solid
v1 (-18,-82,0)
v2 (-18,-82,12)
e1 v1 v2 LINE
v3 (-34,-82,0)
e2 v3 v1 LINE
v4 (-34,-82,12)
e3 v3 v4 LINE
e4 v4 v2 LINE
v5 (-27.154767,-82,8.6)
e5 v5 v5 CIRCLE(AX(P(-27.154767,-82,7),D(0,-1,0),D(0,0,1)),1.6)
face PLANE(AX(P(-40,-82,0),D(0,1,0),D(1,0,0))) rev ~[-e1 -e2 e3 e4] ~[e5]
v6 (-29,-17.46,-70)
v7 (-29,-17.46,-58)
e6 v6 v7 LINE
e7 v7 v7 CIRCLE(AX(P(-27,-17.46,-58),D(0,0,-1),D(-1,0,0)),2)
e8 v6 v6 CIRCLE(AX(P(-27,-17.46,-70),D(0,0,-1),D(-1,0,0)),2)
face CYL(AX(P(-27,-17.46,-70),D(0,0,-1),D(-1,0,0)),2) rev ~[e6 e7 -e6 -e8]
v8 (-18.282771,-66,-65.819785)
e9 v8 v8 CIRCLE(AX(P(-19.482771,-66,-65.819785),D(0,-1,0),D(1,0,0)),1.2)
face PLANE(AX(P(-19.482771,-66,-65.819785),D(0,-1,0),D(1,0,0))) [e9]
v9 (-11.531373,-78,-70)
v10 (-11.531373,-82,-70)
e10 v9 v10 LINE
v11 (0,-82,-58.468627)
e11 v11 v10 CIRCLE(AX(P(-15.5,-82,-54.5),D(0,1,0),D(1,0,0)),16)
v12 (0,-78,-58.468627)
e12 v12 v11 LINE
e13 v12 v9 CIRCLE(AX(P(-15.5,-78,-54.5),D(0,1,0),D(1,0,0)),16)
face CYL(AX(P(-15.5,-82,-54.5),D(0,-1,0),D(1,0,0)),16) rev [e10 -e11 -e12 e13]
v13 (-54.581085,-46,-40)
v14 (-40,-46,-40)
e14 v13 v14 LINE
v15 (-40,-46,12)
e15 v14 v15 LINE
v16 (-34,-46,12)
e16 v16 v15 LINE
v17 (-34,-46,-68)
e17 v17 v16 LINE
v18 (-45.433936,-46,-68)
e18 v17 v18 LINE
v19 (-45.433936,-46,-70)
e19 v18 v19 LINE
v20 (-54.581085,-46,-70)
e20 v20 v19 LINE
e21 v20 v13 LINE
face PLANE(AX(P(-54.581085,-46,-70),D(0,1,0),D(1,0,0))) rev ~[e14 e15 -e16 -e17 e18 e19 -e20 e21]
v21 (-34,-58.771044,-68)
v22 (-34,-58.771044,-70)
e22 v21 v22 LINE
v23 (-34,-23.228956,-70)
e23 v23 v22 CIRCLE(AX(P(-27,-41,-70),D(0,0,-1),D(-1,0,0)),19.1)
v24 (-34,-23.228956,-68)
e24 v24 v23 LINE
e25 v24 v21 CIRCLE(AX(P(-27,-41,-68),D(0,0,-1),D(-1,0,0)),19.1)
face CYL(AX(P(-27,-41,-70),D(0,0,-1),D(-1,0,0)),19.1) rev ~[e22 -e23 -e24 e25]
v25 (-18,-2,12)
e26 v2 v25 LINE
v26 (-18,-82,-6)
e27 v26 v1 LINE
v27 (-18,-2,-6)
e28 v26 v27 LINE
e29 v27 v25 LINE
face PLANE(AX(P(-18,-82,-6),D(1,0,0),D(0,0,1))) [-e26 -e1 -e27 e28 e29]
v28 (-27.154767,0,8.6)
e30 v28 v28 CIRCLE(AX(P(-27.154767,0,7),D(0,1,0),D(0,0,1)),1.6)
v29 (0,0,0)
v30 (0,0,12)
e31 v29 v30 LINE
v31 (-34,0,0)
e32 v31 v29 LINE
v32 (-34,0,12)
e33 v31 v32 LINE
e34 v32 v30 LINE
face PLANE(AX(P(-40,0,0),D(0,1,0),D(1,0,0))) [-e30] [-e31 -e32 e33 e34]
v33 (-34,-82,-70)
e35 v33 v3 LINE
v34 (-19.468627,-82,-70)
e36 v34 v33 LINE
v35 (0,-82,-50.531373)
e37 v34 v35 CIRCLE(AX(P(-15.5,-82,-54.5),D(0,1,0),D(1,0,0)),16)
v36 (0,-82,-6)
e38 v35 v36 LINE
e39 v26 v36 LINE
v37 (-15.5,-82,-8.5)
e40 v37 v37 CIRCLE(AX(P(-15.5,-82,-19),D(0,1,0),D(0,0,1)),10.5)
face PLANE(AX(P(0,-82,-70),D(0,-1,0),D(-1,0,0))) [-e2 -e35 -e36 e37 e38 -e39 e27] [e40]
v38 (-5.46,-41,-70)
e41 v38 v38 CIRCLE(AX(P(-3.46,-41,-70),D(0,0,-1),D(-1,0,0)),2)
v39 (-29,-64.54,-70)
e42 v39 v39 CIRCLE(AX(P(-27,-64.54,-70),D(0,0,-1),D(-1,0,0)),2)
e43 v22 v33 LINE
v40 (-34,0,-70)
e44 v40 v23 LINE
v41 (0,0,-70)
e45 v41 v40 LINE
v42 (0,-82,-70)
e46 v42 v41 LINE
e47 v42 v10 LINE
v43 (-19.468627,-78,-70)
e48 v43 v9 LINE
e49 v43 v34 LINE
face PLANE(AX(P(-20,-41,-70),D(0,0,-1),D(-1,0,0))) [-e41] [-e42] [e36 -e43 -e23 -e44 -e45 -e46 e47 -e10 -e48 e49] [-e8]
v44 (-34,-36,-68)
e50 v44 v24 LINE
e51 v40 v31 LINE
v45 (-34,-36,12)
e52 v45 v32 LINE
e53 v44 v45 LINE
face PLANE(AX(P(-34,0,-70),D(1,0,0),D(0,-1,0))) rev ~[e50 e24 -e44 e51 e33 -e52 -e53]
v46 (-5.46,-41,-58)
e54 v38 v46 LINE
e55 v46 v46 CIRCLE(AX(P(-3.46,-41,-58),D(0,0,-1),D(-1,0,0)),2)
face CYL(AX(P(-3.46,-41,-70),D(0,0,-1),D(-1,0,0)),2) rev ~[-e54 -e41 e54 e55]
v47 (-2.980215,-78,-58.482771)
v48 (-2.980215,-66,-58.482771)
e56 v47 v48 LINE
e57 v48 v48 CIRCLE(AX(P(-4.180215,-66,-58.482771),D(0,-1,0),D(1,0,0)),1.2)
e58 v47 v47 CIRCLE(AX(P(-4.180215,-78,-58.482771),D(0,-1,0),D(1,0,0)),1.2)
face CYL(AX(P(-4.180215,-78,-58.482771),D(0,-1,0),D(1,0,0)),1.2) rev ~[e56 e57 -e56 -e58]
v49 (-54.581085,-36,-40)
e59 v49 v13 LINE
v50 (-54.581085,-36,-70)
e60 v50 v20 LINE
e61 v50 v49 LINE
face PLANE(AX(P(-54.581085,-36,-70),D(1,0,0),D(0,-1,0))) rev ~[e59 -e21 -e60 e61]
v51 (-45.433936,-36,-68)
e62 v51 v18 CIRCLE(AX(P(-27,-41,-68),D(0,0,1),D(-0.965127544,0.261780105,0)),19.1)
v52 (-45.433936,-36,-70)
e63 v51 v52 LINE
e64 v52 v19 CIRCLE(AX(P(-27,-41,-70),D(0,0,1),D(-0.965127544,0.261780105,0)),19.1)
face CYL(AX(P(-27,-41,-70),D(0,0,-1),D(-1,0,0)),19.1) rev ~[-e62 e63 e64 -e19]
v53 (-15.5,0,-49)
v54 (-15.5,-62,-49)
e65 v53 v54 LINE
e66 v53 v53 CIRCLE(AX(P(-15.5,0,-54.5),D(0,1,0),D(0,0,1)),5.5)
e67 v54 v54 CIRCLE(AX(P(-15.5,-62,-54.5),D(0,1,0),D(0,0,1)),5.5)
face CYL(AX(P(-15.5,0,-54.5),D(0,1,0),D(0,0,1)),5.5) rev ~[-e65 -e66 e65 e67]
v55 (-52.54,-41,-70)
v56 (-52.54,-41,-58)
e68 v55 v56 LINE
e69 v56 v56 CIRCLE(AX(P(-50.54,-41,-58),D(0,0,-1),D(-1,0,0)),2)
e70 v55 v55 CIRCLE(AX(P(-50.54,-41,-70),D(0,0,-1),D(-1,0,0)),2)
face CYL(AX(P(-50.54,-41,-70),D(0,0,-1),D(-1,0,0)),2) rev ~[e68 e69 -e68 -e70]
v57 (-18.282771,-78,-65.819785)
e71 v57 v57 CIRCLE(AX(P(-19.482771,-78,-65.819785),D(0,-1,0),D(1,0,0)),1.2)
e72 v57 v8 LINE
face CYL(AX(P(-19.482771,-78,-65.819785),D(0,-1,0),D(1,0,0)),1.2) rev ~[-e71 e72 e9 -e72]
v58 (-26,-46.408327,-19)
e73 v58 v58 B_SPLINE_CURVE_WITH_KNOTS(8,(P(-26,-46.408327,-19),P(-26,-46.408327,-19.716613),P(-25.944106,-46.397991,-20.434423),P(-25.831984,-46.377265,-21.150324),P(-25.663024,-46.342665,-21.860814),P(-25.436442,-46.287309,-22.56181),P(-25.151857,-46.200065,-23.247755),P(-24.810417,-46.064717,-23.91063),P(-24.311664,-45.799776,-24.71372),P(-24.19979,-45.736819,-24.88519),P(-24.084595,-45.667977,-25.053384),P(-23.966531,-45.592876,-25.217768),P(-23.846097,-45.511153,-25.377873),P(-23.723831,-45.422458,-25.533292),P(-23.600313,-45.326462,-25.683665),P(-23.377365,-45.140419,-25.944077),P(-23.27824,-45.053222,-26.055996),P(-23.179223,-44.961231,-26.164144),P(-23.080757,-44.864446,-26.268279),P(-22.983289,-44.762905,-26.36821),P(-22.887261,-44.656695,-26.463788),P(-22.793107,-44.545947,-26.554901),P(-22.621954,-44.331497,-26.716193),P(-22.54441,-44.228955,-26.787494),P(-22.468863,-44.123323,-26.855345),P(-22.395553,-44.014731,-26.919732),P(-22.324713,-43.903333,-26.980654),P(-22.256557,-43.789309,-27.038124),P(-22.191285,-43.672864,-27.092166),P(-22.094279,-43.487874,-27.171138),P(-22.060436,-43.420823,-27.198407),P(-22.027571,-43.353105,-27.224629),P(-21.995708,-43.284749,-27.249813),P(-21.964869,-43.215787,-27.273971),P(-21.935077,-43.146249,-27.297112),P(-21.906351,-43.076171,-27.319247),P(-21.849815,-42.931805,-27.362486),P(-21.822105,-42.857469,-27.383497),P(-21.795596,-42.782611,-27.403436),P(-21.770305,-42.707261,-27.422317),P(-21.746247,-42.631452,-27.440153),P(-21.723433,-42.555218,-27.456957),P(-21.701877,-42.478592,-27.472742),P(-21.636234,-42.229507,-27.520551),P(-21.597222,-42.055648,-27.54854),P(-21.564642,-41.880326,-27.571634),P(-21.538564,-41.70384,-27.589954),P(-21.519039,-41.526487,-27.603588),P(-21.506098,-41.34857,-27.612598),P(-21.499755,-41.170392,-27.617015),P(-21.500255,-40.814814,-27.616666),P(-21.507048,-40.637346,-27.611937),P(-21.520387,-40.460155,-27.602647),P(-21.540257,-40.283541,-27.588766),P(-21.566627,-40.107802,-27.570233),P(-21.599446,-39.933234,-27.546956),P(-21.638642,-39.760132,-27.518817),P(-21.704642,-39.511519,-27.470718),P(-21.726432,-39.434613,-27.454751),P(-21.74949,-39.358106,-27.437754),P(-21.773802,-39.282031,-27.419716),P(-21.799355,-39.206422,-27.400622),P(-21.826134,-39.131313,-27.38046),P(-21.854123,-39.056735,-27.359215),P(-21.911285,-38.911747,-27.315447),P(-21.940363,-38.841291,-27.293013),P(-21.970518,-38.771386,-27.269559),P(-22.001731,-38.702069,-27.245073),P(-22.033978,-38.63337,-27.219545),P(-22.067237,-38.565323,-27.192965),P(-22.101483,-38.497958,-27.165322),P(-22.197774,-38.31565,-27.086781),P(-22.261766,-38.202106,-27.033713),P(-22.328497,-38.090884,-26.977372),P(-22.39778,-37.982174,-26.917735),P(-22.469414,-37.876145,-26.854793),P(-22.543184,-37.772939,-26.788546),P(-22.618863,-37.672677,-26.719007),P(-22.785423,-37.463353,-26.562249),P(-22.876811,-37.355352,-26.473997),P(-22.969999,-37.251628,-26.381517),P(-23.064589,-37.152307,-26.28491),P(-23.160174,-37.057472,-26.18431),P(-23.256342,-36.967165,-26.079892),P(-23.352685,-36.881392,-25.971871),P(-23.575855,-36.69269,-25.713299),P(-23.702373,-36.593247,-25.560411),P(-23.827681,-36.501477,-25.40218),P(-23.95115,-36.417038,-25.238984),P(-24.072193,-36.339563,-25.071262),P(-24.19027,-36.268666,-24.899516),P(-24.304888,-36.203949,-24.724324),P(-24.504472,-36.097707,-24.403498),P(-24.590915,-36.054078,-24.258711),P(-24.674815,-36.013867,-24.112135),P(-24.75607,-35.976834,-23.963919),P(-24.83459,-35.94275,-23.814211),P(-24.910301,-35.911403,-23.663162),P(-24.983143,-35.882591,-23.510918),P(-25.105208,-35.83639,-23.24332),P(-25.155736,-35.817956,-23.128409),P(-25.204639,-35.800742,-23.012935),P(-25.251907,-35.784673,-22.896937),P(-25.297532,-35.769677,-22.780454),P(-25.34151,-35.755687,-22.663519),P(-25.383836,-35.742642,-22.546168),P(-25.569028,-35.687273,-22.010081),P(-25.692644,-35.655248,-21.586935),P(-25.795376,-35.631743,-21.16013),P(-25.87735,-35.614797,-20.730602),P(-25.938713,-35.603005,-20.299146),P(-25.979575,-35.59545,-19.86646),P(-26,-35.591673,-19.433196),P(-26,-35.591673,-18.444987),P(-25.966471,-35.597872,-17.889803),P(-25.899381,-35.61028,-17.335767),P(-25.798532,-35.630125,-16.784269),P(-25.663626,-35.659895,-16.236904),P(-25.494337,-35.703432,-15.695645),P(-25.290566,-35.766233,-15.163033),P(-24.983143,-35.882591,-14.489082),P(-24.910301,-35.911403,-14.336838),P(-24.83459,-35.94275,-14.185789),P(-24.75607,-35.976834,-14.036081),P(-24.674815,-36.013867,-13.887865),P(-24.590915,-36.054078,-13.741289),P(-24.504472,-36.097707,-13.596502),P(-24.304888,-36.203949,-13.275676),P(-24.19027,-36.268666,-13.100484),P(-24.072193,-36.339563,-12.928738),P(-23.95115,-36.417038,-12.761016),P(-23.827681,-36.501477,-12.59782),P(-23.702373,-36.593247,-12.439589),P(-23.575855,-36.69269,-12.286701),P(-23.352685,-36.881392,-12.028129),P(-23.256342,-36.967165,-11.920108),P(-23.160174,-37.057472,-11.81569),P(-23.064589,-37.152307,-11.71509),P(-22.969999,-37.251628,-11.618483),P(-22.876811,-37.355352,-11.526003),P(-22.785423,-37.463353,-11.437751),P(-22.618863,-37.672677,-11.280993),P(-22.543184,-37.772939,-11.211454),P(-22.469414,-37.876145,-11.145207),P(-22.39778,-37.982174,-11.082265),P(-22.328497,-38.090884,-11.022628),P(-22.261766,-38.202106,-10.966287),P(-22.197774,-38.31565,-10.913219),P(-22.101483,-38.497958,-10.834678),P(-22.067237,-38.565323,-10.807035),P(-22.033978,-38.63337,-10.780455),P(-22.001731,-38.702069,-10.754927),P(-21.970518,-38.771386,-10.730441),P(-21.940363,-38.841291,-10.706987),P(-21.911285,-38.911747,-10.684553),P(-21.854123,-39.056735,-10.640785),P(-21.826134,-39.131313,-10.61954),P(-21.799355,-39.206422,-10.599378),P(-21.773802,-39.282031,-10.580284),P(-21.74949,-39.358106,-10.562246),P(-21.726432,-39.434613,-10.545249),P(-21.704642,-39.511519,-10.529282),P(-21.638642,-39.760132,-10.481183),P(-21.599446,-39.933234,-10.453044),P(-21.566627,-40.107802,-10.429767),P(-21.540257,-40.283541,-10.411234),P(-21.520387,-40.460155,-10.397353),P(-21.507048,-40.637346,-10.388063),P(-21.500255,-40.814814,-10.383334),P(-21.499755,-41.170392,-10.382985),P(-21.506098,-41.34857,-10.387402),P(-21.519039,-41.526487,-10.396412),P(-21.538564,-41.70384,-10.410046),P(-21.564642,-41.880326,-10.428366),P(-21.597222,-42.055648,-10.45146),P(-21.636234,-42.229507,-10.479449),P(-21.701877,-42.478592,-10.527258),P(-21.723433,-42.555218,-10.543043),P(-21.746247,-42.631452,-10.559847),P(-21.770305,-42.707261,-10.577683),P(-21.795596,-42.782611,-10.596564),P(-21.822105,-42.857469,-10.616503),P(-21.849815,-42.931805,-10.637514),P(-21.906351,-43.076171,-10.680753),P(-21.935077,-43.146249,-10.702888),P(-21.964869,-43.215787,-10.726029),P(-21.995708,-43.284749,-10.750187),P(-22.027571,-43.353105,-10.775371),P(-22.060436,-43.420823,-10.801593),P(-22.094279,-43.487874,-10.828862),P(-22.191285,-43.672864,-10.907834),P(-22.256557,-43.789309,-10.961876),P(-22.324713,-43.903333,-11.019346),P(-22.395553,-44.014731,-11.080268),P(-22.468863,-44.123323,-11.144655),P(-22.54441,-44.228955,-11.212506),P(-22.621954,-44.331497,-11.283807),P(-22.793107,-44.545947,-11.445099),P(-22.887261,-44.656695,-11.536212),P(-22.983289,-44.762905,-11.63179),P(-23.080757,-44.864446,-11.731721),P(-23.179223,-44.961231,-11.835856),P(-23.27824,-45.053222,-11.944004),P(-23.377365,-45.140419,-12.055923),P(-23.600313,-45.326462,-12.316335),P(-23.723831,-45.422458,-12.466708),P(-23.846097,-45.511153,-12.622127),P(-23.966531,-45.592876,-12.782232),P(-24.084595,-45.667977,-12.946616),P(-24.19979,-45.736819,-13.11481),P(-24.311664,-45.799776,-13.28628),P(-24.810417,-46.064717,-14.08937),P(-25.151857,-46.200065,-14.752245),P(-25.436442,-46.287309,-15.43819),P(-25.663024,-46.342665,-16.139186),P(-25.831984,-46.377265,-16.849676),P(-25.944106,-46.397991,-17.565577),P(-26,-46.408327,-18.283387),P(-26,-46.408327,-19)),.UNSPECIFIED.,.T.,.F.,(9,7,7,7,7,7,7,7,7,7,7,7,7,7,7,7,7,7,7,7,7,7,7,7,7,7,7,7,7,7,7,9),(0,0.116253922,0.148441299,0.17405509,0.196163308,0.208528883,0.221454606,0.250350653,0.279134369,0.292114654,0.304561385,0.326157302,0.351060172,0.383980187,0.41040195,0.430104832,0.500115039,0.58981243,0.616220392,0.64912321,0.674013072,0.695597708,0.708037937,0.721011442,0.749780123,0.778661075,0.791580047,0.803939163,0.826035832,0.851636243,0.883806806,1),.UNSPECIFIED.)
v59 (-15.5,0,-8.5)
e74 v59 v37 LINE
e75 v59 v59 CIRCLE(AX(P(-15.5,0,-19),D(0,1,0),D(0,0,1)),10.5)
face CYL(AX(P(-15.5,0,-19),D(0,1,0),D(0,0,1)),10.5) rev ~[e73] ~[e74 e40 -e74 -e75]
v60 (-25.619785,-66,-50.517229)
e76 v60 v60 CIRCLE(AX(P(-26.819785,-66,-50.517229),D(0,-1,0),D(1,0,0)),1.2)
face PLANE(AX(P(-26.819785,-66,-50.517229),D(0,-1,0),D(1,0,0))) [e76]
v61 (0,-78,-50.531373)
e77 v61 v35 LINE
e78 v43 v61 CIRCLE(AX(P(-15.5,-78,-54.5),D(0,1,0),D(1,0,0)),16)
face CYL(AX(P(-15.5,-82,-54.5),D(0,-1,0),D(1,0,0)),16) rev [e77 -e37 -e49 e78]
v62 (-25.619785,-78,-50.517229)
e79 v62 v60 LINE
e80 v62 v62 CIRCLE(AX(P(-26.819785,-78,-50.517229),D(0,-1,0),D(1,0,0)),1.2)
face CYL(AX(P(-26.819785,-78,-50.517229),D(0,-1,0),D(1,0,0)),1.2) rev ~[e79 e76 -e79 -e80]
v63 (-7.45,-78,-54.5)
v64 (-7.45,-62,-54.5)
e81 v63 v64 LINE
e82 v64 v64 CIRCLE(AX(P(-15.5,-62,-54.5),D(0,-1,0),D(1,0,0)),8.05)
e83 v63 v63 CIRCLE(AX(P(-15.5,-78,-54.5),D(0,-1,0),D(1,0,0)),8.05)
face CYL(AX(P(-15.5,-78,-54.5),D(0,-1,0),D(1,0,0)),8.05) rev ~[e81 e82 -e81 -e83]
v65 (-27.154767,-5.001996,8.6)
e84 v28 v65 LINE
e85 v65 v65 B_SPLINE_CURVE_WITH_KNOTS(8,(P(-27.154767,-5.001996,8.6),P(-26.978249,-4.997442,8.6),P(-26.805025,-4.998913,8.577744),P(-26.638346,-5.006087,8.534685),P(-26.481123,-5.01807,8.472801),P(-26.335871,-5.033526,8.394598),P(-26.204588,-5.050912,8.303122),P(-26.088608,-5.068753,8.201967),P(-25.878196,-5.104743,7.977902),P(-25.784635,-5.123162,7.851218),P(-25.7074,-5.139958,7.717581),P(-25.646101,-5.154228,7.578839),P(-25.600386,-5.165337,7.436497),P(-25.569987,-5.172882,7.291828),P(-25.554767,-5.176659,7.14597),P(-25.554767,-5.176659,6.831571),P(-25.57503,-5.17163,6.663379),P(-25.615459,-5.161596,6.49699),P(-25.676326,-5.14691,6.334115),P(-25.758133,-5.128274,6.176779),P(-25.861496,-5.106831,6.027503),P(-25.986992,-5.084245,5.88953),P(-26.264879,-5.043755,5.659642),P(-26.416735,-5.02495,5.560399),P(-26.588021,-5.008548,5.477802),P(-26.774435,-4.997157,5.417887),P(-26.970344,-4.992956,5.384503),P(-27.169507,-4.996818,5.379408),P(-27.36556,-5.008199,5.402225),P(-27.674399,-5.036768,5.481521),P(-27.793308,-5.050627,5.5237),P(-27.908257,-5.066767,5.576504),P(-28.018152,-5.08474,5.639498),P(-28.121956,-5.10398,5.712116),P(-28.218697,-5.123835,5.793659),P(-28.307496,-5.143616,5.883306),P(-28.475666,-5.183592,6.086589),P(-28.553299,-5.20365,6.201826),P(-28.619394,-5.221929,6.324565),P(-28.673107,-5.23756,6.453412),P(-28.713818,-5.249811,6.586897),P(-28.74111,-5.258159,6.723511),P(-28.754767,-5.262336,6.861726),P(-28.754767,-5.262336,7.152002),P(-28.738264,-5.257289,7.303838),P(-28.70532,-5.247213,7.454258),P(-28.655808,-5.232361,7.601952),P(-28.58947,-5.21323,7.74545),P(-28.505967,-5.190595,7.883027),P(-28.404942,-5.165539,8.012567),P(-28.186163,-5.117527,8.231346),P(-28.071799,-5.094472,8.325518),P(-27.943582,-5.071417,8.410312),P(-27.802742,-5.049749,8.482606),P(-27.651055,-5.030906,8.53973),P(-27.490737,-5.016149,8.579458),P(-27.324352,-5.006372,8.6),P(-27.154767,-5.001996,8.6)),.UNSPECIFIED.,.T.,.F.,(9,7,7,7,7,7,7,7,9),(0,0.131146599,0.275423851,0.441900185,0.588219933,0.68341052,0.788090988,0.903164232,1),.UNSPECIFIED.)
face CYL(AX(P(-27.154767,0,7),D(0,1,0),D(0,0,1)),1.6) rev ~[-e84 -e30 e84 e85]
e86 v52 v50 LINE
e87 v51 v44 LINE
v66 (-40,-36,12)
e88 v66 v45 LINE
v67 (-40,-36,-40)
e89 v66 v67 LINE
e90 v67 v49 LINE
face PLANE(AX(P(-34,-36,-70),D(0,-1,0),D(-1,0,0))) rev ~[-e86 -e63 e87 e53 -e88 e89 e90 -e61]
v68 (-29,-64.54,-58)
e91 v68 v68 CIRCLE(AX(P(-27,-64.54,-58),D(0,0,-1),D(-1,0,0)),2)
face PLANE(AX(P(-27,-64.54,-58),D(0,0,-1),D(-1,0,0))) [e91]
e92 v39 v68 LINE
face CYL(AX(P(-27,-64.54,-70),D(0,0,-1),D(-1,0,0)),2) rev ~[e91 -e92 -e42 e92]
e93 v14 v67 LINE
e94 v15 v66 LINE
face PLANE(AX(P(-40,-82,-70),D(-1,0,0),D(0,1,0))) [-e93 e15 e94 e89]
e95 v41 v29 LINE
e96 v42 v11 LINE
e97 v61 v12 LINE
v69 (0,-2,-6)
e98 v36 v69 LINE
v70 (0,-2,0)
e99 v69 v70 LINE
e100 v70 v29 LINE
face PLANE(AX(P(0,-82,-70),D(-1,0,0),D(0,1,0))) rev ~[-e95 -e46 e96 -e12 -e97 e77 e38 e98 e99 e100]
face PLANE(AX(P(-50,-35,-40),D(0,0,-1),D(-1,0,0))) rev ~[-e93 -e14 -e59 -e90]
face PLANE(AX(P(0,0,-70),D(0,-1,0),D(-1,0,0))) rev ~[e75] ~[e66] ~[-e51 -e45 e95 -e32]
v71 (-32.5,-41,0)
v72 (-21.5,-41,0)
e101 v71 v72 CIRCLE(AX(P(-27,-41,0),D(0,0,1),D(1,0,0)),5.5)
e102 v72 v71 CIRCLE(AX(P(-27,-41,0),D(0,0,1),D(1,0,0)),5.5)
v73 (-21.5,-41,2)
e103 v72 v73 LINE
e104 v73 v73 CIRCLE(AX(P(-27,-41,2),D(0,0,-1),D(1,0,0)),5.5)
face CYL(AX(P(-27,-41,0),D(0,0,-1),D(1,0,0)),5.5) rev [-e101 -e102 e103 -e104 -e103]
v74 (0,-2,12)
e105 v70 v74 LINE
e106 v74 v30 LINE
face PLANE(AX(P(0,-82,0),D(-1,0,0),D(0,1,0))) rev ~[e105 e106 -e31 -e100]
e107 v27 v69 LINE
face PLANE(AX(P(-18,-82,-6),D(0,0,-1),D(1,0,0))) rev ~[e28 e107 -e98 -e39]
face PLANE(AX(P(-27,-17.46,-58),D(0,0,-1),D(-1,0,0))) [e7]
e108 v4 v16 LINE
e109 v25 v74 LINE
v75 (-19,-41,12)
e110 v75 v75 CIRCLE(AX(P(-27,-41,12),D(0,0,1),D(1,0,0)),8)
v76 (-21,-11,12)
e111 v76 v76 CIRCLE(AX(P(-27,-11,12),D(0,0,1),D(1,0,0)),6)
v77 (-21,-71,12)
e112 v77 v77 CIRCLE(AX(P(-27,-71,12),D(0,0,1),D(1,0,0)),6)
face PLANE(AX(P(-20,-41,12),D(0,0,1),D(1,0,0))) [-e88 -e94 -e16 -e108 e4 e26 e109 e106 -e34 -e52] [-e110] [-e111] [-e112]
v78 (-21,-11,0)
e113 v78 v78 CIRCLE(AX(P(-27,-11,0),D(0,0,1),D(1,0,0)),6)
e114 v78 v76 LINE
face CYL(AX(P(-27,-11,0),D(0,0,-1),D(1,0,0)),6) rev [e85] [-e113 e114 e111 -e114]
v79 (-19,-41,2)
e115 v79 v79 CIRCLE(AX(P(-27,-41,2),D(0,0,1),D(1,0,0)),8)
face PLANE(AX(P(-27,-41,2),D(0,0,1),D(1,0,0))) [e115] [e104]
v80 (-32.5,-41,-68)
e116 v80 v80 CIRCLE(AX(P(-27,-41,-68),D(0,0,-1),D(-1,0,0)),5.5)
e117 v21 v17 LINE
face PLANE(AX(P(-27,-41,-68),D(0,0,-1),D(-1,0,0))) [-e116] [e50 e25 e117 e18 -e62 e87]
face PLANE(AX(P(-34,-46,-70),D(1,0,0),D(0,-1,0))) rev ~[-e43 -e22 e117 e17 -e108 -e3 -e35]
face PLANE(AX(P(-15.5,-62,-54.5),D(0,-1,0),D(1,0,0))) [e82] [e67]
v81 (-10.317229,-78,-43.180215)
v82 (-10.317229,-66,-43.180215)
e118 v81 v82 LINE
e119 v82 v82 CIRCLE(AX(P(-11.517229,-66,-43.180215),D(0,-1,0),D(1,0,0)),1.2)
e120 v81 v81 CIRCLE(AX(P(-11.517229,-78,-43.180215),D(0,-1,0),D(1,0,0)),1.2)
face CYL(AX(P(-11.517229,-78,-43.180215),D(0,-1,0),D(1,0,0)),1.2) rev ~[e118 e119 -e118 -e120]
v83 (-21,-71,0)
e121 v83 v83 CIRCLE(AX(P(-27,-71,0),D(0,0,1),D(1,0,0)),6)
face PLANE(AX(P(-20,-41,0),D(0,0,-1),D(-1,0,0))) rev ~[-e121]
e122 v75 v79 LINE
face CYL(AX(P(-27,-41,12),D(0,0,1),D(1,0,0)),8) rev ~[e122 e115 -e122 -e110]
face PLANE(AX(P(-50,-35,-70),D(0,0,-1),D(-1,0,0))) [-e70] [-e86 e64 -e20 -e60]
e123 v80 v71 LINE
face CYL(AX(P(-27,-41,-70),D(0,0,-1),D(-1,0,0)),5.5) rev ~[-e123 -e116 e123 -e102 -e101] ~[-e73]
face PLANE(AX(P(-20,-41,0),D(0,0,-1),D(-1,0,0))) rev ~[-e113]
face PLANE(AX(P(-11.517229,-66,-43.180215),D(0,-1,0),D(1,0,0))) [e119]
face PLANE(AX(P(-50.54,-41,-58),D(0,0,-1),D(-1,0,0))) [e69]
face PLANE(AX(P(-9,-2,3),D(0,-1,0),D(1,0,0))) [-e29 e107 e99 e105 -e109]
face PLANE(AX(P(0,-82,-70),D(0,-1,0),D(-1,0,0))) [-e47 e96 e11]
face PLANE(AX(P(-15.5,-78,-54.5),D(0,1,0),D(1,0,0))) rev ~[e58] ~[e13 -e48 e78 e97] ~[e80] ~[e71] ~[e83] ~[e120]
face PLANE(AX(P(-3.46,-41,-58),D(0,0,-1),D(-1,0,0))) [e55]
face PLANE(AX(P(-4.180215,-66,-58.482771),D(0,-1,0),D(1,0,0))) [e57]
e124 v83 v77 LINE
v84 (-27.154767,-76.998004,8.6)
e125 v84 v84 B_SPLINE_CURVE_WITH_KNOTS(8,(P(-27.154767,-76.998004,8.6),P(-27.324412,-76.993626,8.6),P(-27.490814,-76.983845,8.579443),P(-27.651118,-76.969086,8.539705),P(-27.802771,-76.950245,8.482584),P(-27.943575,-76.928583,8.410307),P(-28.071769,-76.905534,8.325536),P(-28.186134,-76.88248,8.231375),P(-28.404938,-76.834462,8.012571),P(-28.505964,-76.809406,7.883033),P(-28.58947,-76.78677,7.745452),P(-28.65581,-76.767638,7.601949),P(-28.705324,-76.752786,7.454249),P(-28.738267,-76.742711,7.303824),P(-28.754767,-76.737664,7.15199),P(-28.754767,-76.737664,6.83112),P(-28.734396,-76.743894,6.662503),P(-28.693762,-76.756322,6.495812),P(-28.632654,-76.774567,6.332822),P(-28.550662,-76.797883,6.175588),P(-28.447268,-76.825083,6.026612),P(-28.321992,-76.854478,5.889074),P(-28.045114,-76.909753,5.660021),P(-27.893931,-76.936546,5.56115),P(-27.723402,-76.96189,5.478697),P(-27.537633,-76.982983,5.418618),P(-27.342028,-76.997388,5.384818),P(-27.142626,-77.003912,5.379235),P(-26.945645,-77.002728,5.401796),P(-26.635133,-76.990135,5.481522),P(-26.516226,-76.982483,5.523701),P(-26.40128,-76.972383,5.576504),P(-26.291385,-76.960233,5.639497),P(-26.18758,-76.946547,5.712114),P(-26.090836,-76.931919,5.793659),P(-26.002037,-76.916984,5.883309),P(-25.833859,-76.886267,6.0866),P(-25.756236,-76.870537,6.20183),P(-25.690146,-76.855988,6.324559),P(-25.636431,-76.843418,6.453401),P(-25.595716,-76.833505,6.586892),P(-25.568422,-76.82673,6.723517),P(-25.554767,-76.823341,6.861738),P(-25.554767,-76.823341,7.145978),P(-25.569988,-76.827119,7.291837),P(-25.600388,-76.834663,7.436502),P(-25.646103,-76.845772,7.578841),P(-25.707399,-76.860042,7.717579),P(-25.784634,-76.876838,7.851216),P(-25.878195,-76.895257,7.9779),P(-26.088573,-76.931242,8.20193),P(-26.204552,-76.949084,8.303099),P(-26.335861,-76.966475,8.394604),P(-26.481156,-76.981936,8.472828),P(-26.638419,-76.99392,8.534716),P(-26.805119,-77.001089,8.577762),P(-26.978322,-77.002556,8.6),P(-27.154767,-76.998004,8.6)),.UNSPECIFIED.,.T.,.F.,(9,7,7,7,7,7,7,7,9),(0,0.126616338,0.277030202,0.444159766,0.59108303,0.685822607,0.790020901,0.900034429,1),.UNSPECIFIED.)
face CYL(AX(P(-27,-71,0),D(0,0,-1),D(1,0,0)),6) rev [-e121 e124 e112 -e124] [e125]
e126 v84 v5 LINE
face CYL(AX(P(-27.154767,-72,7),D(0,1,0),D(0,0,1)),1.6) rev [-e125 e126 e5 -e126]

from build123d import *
from build123d.topology import SkipClean

# Parameters (mm, degrees)
SKETCH1_W           = 40
SKETCH1_H           = 82
SKETCH1_R           = 5.5
SKETCH1_R_2         = 6
BOSS_EXTRUDE1_DEPTH = 12
BOSS_EXTRUDE2_START = 70
SKETCH2_W           = 40
SKETCH2_H           = 82
SKETCH2_R           = 5.5
BOSS_EXTRUDE2_DEPTH = 70
SKETCH3_R           = 1.6
CUT_EXTRUDE1_DEPTH  = 10
CUT_EXTRUDE2_START  = -10
SKETCH4_R           = 1.6
CUT_EXTRUDE2_DEPTH  = 10
SKETCH5_R           = 10.5
SKETCH5_R_2         = 5.5
CUT_EXTRUDE3_DEPTH  = 100
SKETCH6_R           = 16
CUT_EXTRUDE4_DEPTH  = 4
SKETCH19_R          = 8.05
CUT_EXTRUDE17_DEPTH = 16
SKETCH12_R          = 1.2
CUT_EXTRUDE12_DEPTH = 12
SKETCH13_W          = 20
SKETCH13_H          = 70
BOSS_EXTRUDE3_DEPTH = 30
SKETCH14_R          = 2
CUT_EXTRUDE13_DEPTH = 12
CUT_EXTRUDE14_DEPTH = 115
SKETCH18_R          = 19.1
CUT_EXTRUDE16_DEPTH = 2
SKETCH22_W          = 18
SKETCH22_H          = 18
CUT_EXTRUDE18_DEPTH = 80
SKETCH23_R          = 8
CUT_EXTRUDE19_DEPTH = 10


with BuildPart() as part:
    # Sketch1 → Boss-Extrude1 (new body)
    with BuildSketch(Plane.XY):
        with Locations((-20, -41)):
            Rectangle(SKETCH1_W, SKETCH1_H)
        with Locations((-27, -41)):
            Circle(SKETCH1_R, mode=Mode.SUBTRACT)
        with Locations((-27, -11)):
            Circle(SKETCH1_R_2, mode=Mode.SUBTRACT)
        with Locations((-27, -71)):
            Circle(SKETCH1_R_2, mode=Mode.SUBTRACT)
    extrude(amount=BOSS_EXTRUDE1_DEPTH)

    # Sketch2 → Boss-Extrude2 (add)
    with SkipClean():  # the faces are left unmerged after this step: merging them gives an invalid solid
        with BuildSketch(Plane(origin=(0, 0, 0), x_dir=(-1, 0, 0), z_dir=(0, 0, -1)).offset(BOSS_EXTRUDE2_START)):
            with Locations((20, -41)):
                Rectangle(SKETCH2_W, SKETCH2_H)
            with Locations((27, -41)):
                Circle(SKETCH2_R, mode=Mode.SUBTRACT)
        extrude(amount=-BOSS_EXTRUDE2_DEPTH)

    # Sketch3 → Cut-Extrude1 (cut)
    with SkipClean():  # the faces are left unmerged after this step: merging them gives an invalid solid
        with BuildSketch(Plane(origin=(0, 0, 0), x_dir=(1, 0, 0), z_dir=(0, 1, 0))):
            with Locations(Location((-27.154767421, -7, 0), (0, 0, 270))):
                Circle(SKETCH3_R)
        extrude(amount=-CUT_EXTRUDE1_DEPTH, mode=Mode.SUBTRACT)

    # Sketch4 → Cut-Extrude2 (cut)
    with SkipClean():  # the faces are left unmerged after this step: merging them gives an invalid solid
        with BuildSketch(Plane.XZ.offset(82).offset(CUT_EXTRUDE2_START)):
            with Locations(Location((-27.154767421, 7, 0), (0, 0, 90))):
                Circle(SKETCH4_R)
        extrude(amount=CUT_EXTRUDE2_DEPTH, mode=Mode.SUBTRACT)

    # Sketch5 → Cut-Extrude3 (cut)
    with SkipClean():  # the faces are left unmerged after this step: merging them gives an invalid solid
        with BuildSketch(Plane(origin=(0, 0, 0), x_dir=(1, 0, 0), z_dir=(0, 1, 0))):
            with Locations(Location((-15.5, 19, 0), (0, 0, 270))):
                Circle(SKETCH5_R)
            with Locations(Location((-15.5, 54.5, 0), (0, 0, 270))):
                Circle(SKETCH5_R_2)
        extrude(amount=-CUT_EXTRUDE3_DEPTH, mode=Mode.SUBTRACT)

    # Sketch6 → Cut-Extrude4 (cut)
    with SkipClean():  # the faces are left unmerged after this step: merging them gives an invalid solid
        with BuildSketch(Plane(origin=(0, -82, 0), x_dir=(1, 0, 0), z_dir=(0, 1, 0))):
            with Locations((-15.5, 54.5)):
                Circle(SKETCH6_R)
        extrude(amount=CUT_EXTRUDE4_DEPTH, mode=Mode.SUBTRACT)

    # Sketch19 → Cut-Extrude17 (cut)
    with SkipClean():  # the faces are left unmerged after this step: merging them gives an invalid solid
        with BuildSketch(Plane(origin=(0, -78, 0), x_dir=(-1, 0, 0), z_dir=(0, -1, 0))):
            with Locations(Location((15.5, 54.5, 0), (0, 0, 180))):
                Circle(SKETCH19_R)
        extrude(amount=-CUT_EXTRUDE17_DEPTH, mode=Mode.SUBTRACT)

    # Sketch12 → Cut-Extrude12 (cut)
    with SkipClean():  # the faces are left unmerged after this step: merging them gives an invalid solid
        with BuildSketch(Plane(origin=(0, -78, 0), x_dir=(-1, 0, 0), z_dir=(0, -1, 0))):
            with Locations(Location((11.517229373, 43.180214749, 0), (0, 0, 180))):
                Circle(SKETCH12_R)
            with Locations(Location((26.819785251, 50.517229373, 0), (0, 0, 180))):
                Circle(SKETCH12_R)
            with Locations(Location((19.482770627, 65.819785251, 0), (0, 0, 180))):
                Circle(SKETCH12_R)
            with Locations(Location((4.180214749, 58.482770627, 0), (0, 0, 180))):
                Circle(SKETCH12_R)
        extrude(amount=-CUT_EXTRUDE12_DEPTH, mode=Mode.SUBTRACT)

    # Sketch13 → Boss-Extrude3 (add)
    with SkipClean():  # the faces are left unmerged after this step: merging them gives an invalid solid
        with BuildSketch(Plane(origin=(0, 0, -70), x_dir=(-1, 0, 0), z_dir=(0, 0, -1))):
            with Locations((50, -35)):
                Rectangle(SKETCH13_W, SKETCH13_H)
        extrude(amount=-BOSS_EXTRUDE3_DEPTH)

    # Sketch14 → Cut-Extrude13 (cut)
    with SkipClean():  # the faces are left unmerged after this step: merging them gives an invalid solid
        with BuildSketch(Plane(origin=(0, 0, -70), x_dir=(-1, 0, 0), z_dir=(0, 0, -1))):
            with Locations((50.54, -41)):
                Circle(SKETCH14_R)
            with Locations((27, -17.46)):
                Circle(SKETCH14_R)
            with Locations((3.46, -41)):
                Circle(SKETCH14_R)
            with Locations((27, -64.54)):
                Circle(SKETCH14_R)
        extrude(amount=-CUT_EXTRUDE13_DEPTH, mode=Mode.SUBTRACT)

    # Sketch15 → Cut-Extrude14 (cut)
    with SkipClean():  # the faces are left unmerged after this step: merging them gives an invalid solid
        with BuildSketch(Plane(origin=(0, 0, -70), x_dir=(-1, 0, 0), z_dir=(0, 0, -1))):
            Polygon((34, 0), (34, -36), (54.581085422, -36), (54.581085422, -46), (34, -46), (34, -82), (77.520554958, -82), (77.520554958, 0), align=None)
        extrude(amount=-CUT_EXTRUDE14_DEPTH, mode=Mode.SUBTRACT)

    # Sketch18 → Cut-Extrude16 (cut)
    with SkipClean():  # the faces are left unmerged after this step: merging them gives an invalid solid
        with BuildSketch(Plane(origin=(0, 0, -70), x_dir=(-1, 0, 0), z_dir=(0, 0, -1))):
            with Locations((27, -41)):
                Circle(SKETCH18_R)
        extrude(amount=-CUT_EXTRUDE16_DEPTH, mode=Mode.SUBTRACT)

    # Sketch22 → Cut-Extrude18 (cut)
    with SkipClean():  # the faces are left unmerged after this step: merging them gives an invalid solid
        with BuildSketch(Plane.XZ.offset(82)):
            with Locations((-9, 3)):
                Rectangle(SKETCH22_W, SKETCH22_H)
        extrude(amount=-CUT_EXTRUDE18_DEPTH, mode=Mode.SUBTRACT)

    # Sketch23 → Cut-Extrude19 (cut)
    with BuildSketch(Plane.XY.offset(12)):
        with Locations((-27, -41)):
            Circle(SKETCH23_R)
    extrude(amount=-CUT_EXTRUDE19_DEPTH, mode=Mode.SUBTRACT)


solid = part.part
